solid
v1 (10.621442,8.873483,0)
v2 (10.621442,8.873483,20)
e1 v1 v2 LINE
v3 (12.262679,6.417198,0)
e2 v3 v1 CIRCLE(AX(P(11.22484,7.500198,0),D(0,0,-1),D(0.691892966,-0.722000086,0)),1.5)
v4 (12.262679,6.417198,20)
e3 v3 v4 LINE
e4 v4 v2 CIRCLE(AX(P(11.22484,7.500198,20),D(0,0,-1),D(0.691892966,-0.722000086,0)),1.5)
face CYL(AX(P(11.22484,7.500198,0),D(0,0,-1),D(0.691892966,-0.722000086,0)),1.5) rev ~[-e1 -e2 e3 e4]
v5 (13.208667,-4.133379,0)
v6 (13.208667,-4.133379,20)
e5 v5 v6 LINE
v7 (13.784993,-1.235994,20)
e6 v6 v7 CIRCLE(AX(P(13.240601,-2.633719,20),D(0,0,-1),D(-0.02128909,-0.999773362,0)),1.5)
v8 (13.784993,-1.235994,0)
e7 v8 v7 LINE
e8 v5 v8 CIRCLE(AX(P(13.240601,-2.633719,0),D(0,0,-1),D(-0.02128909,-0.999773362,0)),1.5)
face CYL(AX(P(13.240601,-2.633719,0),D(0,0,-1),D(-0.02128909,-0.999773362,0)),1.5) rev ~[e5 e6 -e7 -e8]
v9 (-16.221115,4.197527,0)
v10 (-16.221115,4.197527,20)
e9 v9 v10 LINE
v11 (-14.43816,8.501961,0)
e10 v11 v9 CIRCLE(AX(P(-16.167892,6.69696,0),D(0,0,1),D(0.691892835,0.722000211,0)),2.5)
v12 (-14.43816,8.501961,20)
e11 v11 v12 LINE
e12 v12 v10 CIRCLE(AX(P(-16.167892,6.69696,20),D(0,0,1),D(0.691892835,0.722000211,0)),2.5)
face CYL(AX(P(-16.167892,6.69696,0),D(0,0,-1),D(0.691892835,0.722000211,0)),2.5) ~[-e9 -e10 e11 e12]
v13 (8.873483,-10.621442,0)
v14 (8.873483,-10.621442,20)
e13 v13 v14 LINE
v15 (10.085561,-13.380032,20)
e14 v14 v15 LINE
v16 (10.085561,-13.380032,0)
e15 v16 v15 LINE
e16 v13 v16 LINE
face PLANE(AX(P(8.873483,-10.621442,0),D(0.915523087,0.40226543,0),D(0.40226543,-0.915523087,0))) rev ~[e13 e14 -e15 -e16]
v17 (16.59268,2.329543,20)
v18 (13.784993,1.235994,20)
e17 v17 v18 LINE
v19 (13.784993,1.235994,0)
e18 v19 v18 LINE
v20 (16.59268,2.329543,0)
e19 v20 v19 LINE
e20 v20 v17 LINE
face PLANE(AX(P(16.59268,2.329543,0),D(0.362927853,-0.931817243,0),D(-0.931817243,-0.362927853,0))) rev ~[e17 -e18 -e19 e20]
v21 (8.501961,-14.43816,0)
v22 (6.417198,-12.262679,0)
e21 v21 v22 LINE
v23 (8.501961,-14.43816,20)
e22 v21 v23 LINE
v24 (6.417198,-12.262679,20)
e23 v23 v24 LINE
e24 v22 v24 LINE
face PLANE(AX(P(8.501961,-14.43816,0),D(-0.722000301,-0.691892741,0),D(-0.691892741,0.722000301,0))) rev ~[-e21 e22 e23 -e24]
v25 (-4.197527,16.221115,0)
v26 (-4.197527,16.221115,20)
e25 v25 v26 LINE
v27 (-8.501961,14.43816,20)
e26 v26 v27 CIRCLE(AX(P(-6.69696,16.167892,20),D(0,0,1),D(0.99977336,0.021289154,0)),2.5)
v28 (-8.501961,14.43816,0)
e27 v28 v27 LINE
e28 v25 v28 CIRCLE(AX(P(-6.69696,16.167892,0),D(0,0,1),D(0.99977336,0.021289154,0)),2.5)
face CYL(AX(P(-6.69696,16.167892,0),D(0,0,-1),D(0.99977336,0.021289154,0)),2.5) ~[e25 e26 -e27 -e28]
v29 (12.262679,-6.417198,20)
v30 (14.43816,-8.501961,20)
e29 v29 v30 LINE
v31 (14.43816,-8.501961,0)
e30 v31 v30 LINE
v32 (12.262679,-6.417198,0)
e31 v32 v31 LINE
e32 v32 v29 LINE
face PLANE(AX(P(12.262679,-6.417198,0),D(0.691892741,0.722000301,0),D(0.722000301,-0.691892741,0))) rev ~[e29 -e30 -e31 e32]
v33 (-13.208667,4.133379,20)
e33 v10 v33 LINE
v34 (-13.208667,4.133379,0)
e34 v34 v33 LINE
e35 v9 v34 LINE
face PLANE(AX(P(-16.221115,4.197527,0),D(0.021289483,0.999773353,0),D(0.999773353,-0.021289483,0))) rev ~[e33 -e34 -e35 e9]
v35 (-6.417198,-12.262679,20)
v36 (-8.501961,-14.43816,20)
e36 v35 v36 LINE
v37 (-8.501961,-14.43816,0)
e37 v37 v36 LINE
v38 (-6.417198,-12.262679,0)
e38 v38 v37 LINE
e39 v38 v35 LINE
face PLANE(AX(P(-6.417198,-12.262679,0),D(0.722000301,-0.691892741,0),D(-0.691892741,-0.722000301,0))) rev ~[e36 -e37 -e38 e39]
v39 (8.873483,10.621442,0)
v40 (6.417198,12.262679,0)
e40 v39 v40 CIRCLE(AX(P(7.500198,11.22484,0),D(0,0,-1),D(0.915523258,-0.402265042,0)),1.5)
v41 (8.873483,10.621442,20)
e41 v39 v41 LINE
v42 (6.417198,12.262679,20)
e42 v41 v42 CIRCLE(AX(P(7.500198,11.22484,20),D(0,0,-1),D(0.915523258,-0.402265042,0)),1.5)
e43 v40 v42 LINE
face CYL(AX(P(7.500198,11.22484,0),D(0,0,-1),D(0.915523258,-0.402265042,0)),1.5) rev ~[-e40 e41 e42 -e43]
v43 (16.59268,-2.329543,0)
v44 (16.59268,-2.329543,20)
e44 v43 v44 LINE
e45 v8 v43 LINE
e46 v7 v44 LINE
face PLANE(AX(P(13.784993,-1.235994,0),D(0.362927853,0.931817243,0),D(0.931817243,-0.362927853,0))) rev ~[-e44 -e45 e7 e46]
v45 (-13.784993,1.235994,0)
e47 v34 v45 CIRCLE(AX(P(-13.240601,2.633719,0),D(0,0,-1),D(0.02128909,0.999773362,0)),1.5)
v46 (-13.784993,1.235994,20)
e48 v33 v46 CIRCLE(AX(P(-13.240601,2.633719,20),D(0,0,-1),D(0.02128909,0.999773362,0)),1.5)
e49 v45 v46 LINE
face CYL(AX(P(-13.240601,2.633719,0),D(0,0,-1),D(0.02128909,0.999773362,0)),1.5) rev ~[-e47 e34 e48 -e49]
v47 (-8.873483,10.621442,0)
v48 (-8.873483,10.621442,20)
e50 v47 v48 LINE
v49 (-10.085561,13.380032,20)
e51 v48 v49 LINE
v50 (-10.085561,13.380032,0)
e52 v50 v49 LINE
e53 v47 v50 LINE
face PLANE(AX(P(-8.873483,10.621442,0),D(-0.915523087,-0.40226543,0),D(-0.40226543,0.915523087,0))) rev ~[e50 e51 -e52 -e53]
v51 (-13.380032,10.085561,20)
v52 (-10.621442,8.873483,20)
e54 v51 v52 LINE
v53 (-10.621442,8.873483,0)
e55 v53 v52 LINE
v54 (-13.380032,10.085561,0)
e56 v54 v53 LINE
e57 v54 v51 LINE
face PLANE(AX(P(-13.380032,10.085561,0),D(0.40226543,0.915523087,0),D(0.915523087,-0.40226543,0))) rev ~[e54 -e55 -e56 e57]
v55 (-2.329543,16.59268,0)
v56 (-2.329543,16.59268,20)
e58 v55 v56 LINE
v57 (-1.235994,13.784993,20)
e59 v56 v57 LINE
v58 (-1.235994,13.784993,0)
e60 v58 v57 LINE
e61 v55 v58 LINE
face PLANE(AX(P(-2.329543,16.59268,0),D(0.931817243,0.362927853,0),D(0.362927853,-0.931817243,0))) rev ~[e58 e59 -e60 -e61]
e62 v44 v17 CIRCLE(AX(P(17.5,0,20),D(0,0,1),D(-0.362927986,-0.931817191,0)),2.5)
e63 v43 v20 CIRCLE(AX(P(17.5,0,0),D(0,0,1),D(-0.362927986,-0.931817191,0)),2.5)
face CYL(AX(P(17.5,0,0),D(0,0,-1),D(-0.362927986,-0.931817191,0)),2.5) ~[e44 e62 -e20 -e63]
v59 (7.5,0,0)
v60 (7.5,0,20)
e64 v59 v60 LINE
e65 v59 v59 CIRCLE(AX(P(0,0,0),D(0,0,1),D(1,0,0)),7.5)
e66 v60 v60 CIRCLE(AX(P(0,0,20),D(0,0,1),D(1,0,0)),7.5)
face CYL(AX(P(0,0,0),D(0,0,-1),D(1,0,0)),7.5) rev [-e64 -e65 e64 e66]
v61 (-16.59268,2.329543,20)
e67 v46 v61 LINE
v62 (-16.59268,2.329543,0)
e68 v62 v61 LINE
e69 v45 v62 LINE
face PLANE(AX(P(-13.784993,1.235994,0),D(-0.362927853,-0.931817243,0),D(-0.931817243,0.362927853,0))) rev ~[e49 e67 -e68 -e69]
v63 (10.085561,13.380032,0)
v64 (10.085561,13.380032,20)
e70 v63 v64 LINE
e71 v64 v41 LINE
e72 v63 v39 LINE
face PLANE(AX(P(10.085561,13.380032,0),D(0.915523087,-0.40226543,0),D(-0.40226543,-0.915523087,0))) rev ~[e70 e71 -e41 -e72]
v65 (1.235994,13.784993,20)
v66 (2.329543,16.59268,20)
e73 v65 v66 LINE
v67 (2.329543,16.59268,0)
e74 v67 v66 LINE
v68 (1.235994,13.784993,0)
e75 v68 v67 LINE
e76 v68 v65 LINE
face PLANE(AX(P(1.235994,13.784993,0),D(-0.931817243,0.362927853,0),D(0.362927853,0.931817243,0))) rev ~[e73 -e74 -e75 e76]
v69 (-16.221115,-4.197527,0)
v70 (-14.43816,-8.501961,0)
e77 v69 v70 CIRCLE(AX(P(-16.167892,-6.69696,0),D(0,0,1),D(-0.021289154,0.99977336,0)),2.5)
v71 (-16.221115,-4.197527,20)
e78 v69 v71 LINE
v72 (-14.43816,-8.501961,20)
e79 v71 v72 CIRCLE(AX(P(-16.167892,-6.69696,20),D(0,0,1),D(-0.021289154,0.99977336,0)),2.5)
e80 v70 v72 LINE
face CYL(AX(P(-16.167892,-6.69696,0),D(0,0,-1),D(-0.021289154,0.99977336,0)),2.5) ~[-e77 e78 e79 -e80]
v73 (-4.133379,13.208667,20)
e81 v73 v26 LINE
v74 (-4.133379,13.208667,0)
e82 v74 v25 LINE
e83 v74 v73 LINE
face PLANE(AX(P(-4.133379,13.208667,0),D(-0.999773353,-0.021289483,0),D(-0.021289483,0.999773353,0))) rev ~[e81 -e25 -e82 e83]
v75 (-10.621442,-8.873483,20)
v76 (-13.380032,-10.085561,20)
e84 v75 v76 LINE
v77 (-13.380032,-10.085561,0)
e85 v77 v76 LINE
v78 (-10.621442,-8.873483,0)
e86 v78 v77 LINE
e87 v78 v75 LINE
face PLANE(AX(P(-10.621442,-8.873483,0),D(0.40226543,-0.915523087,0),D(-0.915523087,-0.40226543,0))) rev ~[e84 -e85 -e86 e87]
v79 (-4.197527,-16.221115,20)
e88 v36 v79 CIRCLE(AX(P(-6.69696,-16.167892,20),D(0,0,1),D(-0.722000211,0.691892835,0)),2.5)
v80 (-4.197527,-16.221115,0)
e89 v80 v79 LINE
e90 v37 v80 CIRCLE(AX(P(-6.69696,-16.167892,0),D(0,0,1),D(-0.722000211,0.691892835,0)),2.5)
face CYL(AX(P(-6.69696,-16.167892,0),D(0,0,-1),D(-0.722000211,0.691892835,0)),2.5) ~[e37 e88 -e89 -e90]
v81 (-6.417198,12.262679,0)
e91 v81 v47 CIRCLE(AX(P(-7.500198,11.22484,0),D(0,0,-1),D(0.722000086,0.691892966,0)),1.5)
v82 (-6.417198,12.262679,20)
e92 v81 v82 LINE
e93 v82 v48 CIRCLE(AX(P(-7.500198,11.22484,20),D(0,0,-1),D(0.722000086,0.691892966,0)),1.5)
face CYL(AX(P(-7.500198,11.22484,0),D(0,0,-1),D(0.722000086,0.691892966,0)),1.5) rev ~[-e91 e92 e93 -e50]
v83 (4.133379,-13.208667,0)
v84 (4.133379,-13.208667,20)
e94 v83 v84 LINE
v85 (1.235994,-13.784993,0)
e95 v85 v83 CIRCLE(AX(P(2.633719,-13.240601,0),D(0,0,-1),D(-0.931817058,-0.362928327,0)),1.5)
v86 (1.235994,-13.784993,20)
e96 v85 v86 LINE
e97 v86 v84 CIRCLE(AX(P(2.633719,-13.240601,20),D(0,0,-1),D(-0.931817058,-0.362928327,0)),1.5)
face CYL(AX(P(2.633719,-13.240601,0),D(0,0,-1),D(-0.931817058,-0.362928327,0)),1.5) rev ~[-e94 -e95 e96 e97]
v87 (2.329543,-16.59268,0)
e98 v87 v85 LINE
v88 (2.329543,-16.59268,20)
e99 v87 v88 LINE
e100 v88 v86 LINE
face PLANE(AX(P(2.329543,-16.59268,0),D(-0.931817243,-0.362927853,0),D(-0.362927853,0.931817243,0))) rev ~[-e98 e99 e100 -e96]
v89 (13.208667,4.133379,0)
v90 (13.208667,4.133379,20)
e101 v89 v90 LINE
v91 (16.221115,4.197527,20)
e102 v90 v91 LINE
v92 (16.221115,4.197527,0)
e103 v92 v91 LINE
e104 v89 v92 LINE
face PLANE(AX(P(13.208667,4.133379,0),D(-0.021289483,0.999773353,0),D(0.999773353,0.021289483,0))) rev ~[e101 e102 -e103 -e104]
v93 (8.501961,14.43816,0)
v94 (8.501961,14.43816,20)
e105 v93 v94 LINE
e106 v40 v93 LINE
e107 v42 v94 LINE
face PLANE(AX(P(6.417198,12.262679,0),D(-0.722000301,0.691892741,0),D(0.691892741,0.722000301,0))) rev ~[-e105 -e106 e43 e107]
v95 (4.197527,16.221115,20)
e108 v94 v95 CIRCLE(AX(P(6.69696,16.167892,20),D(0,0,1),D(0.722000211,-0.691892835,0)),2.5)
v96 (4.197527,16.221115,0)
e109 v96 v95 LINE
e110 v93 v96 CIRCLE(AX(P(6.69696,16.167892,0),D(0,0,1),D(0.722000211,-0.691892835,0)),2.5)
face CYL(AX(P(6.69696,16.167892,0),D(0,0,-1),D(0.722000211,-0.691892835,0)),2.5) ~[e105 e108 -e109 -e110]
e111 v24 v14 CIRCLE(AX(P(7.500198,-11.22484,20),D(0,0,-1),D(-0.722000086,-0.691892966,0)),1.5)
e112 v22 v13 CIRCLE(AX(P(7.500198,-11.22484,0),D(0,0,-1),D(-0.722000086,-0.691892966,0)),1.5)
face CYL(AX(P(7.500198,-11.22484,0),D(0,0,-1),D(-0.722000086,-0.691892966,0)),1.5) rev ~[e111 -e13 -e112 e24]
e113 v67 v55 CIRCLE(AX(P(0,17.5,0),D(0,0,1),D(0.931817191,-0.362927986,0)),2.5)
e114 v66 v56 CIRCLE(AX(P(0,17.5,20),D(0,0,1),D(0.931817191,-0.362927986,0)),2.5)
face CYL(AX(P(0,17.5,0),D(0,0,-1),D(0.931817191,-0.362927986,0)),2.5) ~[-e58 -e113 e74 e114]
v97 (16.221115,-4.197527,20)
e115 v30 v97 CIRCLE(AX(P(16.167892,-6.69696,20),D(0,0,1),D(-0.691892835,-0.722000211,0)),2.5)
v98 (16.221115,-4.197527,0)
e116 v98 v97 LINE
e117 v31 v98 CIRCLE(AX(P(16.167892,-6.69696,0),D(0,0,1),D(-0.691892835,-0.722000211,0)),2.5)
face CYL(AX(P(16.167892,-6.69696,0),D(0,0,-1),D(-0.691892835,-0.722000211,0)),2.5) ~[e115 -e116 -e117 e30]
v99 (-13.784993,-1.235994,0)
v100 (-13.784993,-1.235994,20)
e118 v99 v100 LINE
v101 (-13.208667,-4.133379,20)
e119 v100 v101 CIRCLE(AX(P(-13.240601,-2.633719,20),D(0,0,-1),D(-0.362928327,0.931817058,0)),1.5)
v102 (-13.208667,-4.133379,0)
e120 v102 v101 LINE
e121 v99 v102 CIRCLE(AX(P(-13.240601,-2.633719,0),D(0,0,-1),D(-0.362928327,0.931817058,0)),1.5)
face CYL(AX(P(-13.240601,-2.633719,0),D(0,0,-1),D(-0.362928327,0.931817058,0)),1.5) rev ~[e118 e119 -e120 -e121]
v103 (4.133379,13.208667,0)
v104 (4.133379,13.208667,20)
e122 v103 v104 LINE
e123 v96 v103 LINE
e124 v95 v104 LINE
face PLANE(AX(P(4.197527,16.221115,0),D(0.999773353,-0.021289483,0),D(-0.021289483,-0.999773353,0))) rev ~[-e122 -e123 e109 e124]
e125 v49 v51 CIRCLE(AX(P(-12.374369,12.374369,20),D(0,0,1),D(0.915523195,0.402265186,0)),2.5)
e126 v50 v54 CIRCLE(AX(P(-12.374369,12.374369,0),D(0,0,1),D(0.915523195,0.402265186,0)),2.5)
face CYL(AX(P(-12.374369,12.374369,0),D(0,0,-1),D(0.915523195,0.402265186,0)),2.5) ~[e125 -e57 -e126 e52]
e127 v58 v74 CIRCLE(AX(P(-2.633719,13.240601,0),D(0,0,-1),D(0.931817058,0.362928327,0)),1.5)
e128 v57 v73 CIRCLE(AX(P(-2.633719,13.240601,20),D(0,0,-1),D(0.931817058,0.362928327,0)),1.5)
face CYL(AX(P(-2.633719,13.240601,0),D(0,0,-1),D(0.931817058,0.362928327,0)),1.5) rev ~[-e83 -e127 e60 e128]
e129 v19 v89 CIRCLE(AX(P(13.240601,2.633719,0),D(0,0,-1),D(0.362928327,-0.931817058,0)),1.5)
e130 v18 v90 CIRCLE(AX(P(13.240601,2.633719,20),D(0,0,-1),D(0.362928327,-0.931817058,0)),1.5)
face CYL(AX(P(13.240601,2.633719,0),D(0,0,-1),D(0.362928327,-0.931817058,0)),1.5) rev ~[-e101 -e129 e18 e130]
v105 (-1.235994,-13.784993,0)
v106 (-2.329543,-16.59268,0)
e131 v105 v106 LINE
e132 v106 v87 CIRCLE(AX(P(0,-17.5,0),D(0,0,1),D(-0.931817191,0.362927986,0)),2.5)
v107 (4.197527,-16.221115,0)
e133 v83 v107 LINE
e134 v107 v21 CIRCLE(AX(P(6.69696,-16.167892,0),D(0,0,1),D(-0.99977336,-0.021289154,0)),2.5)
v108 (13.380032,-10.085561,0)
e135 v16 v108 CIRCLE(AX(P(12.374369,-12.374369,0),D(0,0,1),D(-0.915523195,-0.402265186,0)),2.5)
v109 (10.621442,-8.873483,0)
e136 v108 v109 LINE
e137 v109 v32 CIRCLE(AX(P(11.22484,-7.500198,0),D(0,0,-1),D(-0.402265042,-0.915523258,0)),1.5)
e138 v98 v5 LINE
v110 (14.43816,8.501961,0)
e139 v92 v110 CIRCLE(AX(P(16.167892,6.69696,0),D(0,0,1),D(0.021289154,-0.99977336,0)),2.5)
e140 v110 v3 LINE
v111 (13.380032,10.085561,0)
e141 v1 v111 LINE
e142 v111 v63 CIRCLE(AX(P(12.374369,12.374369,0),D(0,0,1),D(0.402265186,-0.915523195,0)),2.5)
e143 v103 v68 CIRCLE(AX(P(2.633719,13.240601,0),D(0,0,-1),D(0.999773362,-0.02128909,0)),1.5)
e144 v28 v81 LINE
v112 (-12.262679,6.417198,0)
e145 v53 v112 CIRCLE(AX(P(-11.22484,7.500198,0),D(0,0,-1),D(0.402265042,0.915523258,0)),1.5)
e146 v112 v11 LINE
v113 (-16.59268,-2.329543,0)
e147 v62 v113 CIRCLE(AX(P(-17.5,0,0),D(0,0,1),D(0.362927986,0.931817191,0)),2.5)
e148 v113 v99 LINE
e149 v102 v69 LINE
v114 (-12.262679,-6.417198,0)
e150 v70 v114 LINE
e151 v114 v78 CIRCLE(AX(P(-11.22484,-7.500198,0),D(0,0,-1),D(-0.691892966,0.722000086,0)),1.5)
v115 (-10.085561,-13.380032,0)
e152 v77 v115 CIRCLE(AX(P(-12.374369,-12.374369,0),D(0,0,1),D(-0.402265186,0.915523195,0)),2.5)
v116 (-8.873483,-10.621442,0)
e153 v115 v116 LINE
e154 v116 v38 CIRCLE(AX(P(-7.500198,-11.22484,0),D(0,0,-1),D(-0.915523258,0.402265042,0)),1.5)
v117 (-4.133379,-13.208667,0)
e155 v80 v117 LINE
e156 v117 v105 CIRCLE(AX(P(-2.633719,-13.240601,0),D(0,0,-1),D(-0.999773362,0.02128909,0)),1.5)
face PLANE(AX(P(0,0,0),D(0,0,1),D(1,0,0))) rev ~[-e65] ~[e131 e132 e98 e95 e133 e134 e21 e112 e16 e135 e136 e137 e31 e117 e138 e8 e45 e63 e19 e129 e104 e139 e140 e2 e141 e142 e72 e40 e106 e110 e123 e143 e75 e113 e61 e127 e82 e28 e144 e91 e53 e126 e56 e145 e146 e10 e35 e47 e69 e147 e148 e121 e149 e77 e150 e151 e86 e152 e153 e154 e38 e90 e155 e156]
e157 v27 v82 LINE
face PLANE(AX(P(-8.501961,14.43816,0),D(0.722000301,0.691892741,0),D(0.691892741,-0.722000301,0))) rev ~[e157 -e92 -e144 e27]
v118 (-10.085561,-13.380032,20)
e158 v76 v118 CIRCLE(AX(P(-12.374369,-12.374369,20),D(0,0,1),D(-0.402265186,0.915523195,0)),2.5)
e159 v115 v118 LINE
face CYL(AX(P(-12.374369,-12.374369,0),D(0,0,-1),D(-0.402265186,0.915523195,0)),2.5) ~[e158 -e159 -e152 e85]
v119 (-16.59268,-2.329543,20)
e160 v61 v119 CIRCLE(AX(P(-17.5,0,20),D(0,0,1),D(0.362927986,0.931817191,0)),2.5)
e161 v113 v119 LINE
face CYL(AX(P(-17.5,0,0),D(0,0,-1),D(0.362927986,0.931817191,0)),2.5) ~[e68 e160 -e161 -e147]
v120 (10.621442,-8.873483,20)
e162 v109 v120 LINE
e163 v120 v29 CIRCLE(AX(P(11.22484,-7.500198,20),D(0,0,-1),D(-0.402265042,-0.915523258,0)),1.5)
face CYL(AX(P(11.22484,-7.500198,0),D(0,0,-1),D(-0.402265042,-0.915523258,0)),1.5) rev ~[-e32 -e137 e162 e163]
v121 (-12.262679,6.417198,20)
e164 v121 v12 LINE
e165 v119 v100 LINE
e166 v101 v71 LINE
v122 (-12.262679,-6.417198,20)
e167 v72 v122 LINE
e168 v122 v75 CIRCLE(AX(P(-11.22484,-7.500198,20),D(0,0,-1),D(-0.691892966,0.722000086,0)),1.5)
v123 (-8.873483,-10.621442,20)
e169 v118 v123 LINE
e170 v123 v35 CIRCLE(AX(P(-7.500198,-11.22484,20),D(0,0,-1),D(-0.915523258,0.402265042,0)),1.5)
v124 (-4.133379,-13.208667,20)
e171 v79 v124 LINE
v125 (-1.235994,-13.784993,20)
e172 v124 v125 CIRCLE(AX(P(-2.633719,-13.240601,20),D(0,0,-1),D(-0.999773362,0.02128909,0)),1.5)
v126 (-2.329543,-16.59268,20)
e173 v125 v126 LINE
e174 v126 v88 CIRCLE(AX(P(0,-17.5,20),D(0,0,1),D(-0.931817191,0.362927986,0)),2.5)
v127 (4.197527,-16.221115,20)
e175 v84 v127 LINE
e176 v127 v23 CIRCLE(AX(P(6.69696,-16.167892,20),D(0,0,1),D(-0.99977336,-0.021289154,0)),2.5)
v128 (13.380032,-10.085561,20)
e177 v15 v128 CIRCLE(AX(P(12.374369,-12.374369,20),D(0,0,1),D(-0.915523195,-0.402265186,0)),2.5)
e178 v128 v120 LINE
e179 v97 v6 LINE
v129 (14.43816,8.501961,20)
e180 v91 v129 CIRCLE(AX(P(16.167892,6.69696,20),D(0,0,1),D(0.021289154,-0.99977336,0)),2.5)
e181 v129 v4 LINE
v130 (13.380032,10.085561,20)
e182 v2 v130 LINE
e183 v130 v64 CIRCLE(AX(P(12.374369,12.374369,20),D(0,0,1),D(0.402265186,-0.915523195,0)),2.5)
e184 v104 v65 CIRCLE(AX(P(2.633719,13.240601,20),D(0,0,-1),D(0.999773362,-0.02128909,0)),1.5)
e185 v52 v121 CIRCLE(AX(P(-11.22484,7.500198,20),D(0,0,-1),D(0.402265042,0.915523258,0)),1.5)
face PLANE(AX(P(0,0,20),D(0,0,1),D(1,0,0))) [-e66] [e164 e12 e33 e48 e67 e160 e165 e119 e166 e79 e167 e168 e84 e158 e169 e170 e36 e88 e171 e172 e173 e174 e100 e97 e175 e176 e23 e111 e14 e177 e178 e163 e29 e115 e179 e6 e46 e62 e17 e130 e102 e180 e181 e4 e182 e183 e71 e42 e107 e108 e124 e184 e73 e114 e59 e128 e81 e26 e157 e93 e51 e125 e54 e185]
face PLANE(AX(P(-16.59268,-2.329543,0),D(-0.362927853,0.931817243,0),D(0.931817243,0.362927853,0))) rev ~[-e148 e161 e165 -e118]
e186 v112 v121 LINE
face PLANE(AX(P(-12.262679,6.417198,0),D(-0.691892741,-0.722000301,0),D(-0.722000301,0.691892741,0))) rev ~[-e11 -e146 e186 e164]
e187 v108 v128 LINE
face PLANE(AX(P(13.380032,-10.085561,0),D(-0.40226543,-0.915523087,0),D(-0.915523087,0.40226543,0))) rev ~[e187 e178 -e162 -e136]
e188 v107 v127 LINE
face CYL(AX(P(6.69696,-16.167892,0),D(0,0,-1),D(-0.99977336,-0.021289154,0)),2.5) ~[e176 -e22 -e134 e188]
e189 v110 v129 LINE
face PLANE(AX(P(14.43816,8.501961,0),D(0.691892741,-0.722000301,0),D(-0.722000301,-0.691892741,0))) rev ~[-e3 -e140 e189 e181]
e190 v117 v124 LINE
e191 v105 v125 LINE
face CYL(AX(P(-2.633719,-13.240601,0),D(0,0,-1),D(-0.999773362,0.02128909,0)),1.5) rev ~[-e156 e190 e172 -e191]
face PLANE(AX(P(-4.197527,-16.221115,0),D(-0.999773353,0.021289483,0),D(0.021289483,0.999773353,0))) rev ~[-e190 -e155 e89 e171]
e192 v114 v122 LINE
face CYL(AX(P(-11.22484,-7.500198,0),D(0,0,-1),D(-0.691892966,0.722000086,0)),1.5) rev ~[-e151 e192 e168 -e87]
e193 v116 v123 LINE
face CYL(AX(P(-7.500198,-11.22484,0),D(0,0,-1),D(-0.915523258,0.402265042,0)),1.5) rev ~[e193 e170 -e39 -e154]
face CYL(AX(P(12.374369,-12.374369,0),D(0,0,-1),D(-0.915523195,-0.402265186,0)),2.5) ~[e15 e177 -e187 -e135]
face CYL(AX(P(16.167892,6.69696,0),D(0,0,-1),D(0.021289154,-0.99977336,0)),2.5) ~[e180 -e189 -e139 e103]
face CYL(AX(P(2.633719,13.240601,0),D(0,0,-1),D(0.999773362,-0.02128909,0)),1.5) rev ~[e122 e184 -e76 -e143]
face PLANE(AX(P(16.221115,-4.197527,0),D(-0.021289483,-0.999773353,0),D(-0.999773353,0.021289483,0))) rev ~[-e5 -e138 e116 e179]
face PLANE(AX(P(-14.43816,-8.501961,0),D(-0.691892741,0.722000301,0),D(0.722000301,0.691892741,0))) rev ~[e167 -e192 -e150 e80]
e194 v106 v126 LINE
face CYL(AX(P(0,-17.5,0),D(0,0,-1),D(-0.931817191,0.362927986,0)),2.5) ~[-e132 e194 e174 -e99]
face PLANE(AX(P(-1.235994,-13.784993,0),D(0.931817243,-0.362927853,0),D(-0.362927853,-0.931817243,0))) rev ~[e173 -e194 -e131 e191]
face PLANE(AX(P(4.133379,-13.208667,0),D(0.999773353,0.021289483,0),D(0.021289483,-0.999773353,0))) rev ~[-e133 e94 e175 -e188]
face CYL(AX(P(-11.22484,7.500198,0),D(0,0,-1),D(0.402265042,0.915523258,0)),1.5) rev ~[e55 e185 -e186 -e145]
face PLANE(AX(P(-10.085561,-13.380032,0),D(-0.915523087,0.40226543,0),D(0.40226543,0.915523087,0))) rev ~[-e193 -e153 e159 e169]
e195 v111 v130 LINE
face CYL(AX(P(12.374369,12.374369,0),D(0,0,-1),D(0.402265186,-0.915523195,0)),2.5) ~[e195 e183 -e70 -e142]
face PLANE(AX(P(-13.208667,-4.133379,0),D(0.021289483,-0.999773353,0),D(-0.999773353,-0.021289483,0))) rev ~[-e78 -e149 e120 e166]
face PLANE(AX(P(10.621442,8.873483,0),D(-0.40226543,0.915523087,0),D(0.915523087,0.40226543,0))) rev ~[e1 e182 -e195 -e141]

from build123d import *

# Parameters (mm, degrees)
F0_R     = 7.5
F1_DEPTH = 20


with BuildPart() as f1:
    # F0 (on Top) → F1 (new body)
    with BuildSketch(Plane.XY):
        with BuildLine():
            Line((-13.784993, 1.235994), (-16.59268, 2.329543))
            ThreePointArc((-16.59268, 2.329543), (-20, 0), (-16.59268, -2.329543))
            Line((-16.59268, -2.329543), (-13.784993, -1.235994))
            ThreePointArc((-13.784993, -1.235994), (-11.769423, -2.341084), (-13.208667, -4.133379))
            Line((-13.208667, -4.133379), (-16.221115, -4.197527))
            ThreePointArc((-16.221115, -4.197527), (-18.477591, -7.653669), (-14.43816, -8.501961))
            Line((-14.43816, -8.501961), (-12.262679, -6.417198))
            ThreePointArc((-12.262679, -6.417198), (-9.977635, -6.666843), (-10.621442, -8.873483))
            Line((-10.621442, -8.873483), (-13.380032, -10.085561))
            ThreePointArc((-13.380032, -10.085561), (-14.142136, -14.142136), (-10.085561, -13.380032))
            Line((-10.085561, -13.380032), (-8.873483, -10.621442))
            ThreePointArc((-8.873483, -10.621442), (-6.666843, -9.977635), (-6.417198, -12.262679))
            Line((-6.417198, -12.262679), (-8.501961, -14.43816))
            ThreePointArc((-8.501961, -14.43816), (-7.653669, -18.477591), (-4.197527, -16.221115))
            Line((-4.197527, -16.221115), (-4.133379, -13.208667))
            ThreePointArc((-4.133379, -13.208667), (-2.341084, -11.769423), (-1.235994, -13.784993))
            Line((-1.235994, -13.784993), (-2.329543, -16.59268))
            ThreePointArc((-2.329543, -16.59268), (0, -20), (2.329543, -16.59268))
            Line((2.329543, -16.59268), (1.235994, -13.784993))
            ThreePointArc((1.235994, -13.784993), (2.341084, -11.769423), (4.133379, -13.208667))
            Line((4.133379, -13.208667), (4.197527, -16.221115))
            ThreePointArc((4.197527, -16.221115), (7.653669, -18.477591), (8.501961, -14.43816))
            Line((8.501961, -14.43816), (6.417198, -12.262679))
            ThreePointArc((6.417198, -12.262679), (6.666843, -9.977635), (8.873483, -10.621442))
            Line((8.873483, -10.621442), (10.085561, -13.380032))
            ThreePointArc((10.085561, -13.380032), (14.142136, -14.142136), (13.380032, -10.085561))
            Line((13.380032, -10.085561), (10.621442, -8.873483))
            ThreePointArc((10.621442, -8.873483), (9.977635, -6.666843), (12.262679, -6.417198))
            Line((12.262679, -6.417198), (14.43816, -8.501961))
            ThreePointArc((14.43816, -8.501961), (18.477591, -7.653669), (16.221115, -4.197527))
            Line((16.221115, -4.197527), (13.208667, -4.133379))
            ThreePointArc((13.208667, -4.133379), (11.769423, -2.341084), (13.784993, -1.235994))
            Line((13.784993, -1.235994), (16.59268, -2.329543))
            ThreePointArc((16.59268, -2.329543), (20, 0), (16.59268, 2.329543))
            Line((16.59268, 2.329543), (13.784993, 1.235994))
            ThreePointArc((13.784993, 1.235994), (11.769423, 2.341084), (13.208667, 4.133379))
            Line((13.208667, 4.133379), (16.221115, 4.197527))
            ThreePointArc((16.221115, 4.197527), (18.477591, 7.653669), (14.43816, 8.501961))
            Line((14.43816, 8.501961), (12.262679, 6.417198))
            ThreePointArc((12.262679, 6.417198), (9.977635, 6.666843), (10.621442, 8.873483))
            Line((10.621442, 8.873483), (13.380032, 10.085561))
            ThreePointArc((13.380032, 10.085561), (14.142136, 14.142136), (10.085561, 13.380032))
            Line((10.085561, 13.380032), (8.873483, 10.621442))
            ThreePointArc((8.873483, 10.621442), (6.666843, 9.977635), (6.417198, 12.262679))
            Line((6.417198, 12.262679), (8.501961, 14.43816))
            ThreePointArc((8.501961, 14.43816), (7.653669, 18.477591), (4.197527, 16.221115))
            Line((4.197527, 16.221115), (4.133379, 13.208667))
            ThreePointArc((4.133379, 13.208667), (2.341084, 11.769423), (1.235994, 13.784993))
            Line((1.235994, 13.784993), (2.329543, 16.59268))
            ThreePointArc((2.329543, 16.59268), (0, 20), (-2.329543, 16.59268))
            Line((-2.329543, 16.59268), (-1.235994, 13.784993))
            ThreePointArc((-1.235994, 13.784993), (-2.341084, 11.769423), (-4.133379, 13.208667))
            Line((-4.133379, 13.208667), (-4.197527, 16.221115))
            ThreePointArc((-4.197527, 16.221115), (-7.653669, 18.477591), (-8.501961, 14.43816))
            Line((-8.501961, 14.43816), (-6.417198, 12.262679))
            ThreePointArc((-6.417198, 12.262679), (-6.666843, 9.977635), (-8.873483, 10.621442))
            Line((-8.873483, 10.621442), (-10.085561, 13.380032))
            ThreePointArc((-10.085561, 13.380032), (-14.142136, 14.142136), (-13.380032, 10.085561))
            Line((-13.380032, 10.085561), (-10.621442, 8.873483))
            ThreePointArc((-10.621442, 8.873483), (-9.977635, 6.666843), (-12.262679, 6.417198))
            Line((-12.262679, 6.417198), (-14.43816, 8.501961))
            ThreePointArc((-14.43816, 8.501961), (-18.477591, 7.653669), (-16.221115, 4.197527))
            Line((-16.221115, 4.197527), (-13.208667, 4.133379))
            ThreePointArc((-13.208667, 4.133379), (-11.769423, 2.341084), (-13.784993, 1.235994))
        make_face()
        Circle(F0_R, mode=Mode.SUBTRACT)
    extrude(amount=F1_DEPTH)


solid = f1.part
